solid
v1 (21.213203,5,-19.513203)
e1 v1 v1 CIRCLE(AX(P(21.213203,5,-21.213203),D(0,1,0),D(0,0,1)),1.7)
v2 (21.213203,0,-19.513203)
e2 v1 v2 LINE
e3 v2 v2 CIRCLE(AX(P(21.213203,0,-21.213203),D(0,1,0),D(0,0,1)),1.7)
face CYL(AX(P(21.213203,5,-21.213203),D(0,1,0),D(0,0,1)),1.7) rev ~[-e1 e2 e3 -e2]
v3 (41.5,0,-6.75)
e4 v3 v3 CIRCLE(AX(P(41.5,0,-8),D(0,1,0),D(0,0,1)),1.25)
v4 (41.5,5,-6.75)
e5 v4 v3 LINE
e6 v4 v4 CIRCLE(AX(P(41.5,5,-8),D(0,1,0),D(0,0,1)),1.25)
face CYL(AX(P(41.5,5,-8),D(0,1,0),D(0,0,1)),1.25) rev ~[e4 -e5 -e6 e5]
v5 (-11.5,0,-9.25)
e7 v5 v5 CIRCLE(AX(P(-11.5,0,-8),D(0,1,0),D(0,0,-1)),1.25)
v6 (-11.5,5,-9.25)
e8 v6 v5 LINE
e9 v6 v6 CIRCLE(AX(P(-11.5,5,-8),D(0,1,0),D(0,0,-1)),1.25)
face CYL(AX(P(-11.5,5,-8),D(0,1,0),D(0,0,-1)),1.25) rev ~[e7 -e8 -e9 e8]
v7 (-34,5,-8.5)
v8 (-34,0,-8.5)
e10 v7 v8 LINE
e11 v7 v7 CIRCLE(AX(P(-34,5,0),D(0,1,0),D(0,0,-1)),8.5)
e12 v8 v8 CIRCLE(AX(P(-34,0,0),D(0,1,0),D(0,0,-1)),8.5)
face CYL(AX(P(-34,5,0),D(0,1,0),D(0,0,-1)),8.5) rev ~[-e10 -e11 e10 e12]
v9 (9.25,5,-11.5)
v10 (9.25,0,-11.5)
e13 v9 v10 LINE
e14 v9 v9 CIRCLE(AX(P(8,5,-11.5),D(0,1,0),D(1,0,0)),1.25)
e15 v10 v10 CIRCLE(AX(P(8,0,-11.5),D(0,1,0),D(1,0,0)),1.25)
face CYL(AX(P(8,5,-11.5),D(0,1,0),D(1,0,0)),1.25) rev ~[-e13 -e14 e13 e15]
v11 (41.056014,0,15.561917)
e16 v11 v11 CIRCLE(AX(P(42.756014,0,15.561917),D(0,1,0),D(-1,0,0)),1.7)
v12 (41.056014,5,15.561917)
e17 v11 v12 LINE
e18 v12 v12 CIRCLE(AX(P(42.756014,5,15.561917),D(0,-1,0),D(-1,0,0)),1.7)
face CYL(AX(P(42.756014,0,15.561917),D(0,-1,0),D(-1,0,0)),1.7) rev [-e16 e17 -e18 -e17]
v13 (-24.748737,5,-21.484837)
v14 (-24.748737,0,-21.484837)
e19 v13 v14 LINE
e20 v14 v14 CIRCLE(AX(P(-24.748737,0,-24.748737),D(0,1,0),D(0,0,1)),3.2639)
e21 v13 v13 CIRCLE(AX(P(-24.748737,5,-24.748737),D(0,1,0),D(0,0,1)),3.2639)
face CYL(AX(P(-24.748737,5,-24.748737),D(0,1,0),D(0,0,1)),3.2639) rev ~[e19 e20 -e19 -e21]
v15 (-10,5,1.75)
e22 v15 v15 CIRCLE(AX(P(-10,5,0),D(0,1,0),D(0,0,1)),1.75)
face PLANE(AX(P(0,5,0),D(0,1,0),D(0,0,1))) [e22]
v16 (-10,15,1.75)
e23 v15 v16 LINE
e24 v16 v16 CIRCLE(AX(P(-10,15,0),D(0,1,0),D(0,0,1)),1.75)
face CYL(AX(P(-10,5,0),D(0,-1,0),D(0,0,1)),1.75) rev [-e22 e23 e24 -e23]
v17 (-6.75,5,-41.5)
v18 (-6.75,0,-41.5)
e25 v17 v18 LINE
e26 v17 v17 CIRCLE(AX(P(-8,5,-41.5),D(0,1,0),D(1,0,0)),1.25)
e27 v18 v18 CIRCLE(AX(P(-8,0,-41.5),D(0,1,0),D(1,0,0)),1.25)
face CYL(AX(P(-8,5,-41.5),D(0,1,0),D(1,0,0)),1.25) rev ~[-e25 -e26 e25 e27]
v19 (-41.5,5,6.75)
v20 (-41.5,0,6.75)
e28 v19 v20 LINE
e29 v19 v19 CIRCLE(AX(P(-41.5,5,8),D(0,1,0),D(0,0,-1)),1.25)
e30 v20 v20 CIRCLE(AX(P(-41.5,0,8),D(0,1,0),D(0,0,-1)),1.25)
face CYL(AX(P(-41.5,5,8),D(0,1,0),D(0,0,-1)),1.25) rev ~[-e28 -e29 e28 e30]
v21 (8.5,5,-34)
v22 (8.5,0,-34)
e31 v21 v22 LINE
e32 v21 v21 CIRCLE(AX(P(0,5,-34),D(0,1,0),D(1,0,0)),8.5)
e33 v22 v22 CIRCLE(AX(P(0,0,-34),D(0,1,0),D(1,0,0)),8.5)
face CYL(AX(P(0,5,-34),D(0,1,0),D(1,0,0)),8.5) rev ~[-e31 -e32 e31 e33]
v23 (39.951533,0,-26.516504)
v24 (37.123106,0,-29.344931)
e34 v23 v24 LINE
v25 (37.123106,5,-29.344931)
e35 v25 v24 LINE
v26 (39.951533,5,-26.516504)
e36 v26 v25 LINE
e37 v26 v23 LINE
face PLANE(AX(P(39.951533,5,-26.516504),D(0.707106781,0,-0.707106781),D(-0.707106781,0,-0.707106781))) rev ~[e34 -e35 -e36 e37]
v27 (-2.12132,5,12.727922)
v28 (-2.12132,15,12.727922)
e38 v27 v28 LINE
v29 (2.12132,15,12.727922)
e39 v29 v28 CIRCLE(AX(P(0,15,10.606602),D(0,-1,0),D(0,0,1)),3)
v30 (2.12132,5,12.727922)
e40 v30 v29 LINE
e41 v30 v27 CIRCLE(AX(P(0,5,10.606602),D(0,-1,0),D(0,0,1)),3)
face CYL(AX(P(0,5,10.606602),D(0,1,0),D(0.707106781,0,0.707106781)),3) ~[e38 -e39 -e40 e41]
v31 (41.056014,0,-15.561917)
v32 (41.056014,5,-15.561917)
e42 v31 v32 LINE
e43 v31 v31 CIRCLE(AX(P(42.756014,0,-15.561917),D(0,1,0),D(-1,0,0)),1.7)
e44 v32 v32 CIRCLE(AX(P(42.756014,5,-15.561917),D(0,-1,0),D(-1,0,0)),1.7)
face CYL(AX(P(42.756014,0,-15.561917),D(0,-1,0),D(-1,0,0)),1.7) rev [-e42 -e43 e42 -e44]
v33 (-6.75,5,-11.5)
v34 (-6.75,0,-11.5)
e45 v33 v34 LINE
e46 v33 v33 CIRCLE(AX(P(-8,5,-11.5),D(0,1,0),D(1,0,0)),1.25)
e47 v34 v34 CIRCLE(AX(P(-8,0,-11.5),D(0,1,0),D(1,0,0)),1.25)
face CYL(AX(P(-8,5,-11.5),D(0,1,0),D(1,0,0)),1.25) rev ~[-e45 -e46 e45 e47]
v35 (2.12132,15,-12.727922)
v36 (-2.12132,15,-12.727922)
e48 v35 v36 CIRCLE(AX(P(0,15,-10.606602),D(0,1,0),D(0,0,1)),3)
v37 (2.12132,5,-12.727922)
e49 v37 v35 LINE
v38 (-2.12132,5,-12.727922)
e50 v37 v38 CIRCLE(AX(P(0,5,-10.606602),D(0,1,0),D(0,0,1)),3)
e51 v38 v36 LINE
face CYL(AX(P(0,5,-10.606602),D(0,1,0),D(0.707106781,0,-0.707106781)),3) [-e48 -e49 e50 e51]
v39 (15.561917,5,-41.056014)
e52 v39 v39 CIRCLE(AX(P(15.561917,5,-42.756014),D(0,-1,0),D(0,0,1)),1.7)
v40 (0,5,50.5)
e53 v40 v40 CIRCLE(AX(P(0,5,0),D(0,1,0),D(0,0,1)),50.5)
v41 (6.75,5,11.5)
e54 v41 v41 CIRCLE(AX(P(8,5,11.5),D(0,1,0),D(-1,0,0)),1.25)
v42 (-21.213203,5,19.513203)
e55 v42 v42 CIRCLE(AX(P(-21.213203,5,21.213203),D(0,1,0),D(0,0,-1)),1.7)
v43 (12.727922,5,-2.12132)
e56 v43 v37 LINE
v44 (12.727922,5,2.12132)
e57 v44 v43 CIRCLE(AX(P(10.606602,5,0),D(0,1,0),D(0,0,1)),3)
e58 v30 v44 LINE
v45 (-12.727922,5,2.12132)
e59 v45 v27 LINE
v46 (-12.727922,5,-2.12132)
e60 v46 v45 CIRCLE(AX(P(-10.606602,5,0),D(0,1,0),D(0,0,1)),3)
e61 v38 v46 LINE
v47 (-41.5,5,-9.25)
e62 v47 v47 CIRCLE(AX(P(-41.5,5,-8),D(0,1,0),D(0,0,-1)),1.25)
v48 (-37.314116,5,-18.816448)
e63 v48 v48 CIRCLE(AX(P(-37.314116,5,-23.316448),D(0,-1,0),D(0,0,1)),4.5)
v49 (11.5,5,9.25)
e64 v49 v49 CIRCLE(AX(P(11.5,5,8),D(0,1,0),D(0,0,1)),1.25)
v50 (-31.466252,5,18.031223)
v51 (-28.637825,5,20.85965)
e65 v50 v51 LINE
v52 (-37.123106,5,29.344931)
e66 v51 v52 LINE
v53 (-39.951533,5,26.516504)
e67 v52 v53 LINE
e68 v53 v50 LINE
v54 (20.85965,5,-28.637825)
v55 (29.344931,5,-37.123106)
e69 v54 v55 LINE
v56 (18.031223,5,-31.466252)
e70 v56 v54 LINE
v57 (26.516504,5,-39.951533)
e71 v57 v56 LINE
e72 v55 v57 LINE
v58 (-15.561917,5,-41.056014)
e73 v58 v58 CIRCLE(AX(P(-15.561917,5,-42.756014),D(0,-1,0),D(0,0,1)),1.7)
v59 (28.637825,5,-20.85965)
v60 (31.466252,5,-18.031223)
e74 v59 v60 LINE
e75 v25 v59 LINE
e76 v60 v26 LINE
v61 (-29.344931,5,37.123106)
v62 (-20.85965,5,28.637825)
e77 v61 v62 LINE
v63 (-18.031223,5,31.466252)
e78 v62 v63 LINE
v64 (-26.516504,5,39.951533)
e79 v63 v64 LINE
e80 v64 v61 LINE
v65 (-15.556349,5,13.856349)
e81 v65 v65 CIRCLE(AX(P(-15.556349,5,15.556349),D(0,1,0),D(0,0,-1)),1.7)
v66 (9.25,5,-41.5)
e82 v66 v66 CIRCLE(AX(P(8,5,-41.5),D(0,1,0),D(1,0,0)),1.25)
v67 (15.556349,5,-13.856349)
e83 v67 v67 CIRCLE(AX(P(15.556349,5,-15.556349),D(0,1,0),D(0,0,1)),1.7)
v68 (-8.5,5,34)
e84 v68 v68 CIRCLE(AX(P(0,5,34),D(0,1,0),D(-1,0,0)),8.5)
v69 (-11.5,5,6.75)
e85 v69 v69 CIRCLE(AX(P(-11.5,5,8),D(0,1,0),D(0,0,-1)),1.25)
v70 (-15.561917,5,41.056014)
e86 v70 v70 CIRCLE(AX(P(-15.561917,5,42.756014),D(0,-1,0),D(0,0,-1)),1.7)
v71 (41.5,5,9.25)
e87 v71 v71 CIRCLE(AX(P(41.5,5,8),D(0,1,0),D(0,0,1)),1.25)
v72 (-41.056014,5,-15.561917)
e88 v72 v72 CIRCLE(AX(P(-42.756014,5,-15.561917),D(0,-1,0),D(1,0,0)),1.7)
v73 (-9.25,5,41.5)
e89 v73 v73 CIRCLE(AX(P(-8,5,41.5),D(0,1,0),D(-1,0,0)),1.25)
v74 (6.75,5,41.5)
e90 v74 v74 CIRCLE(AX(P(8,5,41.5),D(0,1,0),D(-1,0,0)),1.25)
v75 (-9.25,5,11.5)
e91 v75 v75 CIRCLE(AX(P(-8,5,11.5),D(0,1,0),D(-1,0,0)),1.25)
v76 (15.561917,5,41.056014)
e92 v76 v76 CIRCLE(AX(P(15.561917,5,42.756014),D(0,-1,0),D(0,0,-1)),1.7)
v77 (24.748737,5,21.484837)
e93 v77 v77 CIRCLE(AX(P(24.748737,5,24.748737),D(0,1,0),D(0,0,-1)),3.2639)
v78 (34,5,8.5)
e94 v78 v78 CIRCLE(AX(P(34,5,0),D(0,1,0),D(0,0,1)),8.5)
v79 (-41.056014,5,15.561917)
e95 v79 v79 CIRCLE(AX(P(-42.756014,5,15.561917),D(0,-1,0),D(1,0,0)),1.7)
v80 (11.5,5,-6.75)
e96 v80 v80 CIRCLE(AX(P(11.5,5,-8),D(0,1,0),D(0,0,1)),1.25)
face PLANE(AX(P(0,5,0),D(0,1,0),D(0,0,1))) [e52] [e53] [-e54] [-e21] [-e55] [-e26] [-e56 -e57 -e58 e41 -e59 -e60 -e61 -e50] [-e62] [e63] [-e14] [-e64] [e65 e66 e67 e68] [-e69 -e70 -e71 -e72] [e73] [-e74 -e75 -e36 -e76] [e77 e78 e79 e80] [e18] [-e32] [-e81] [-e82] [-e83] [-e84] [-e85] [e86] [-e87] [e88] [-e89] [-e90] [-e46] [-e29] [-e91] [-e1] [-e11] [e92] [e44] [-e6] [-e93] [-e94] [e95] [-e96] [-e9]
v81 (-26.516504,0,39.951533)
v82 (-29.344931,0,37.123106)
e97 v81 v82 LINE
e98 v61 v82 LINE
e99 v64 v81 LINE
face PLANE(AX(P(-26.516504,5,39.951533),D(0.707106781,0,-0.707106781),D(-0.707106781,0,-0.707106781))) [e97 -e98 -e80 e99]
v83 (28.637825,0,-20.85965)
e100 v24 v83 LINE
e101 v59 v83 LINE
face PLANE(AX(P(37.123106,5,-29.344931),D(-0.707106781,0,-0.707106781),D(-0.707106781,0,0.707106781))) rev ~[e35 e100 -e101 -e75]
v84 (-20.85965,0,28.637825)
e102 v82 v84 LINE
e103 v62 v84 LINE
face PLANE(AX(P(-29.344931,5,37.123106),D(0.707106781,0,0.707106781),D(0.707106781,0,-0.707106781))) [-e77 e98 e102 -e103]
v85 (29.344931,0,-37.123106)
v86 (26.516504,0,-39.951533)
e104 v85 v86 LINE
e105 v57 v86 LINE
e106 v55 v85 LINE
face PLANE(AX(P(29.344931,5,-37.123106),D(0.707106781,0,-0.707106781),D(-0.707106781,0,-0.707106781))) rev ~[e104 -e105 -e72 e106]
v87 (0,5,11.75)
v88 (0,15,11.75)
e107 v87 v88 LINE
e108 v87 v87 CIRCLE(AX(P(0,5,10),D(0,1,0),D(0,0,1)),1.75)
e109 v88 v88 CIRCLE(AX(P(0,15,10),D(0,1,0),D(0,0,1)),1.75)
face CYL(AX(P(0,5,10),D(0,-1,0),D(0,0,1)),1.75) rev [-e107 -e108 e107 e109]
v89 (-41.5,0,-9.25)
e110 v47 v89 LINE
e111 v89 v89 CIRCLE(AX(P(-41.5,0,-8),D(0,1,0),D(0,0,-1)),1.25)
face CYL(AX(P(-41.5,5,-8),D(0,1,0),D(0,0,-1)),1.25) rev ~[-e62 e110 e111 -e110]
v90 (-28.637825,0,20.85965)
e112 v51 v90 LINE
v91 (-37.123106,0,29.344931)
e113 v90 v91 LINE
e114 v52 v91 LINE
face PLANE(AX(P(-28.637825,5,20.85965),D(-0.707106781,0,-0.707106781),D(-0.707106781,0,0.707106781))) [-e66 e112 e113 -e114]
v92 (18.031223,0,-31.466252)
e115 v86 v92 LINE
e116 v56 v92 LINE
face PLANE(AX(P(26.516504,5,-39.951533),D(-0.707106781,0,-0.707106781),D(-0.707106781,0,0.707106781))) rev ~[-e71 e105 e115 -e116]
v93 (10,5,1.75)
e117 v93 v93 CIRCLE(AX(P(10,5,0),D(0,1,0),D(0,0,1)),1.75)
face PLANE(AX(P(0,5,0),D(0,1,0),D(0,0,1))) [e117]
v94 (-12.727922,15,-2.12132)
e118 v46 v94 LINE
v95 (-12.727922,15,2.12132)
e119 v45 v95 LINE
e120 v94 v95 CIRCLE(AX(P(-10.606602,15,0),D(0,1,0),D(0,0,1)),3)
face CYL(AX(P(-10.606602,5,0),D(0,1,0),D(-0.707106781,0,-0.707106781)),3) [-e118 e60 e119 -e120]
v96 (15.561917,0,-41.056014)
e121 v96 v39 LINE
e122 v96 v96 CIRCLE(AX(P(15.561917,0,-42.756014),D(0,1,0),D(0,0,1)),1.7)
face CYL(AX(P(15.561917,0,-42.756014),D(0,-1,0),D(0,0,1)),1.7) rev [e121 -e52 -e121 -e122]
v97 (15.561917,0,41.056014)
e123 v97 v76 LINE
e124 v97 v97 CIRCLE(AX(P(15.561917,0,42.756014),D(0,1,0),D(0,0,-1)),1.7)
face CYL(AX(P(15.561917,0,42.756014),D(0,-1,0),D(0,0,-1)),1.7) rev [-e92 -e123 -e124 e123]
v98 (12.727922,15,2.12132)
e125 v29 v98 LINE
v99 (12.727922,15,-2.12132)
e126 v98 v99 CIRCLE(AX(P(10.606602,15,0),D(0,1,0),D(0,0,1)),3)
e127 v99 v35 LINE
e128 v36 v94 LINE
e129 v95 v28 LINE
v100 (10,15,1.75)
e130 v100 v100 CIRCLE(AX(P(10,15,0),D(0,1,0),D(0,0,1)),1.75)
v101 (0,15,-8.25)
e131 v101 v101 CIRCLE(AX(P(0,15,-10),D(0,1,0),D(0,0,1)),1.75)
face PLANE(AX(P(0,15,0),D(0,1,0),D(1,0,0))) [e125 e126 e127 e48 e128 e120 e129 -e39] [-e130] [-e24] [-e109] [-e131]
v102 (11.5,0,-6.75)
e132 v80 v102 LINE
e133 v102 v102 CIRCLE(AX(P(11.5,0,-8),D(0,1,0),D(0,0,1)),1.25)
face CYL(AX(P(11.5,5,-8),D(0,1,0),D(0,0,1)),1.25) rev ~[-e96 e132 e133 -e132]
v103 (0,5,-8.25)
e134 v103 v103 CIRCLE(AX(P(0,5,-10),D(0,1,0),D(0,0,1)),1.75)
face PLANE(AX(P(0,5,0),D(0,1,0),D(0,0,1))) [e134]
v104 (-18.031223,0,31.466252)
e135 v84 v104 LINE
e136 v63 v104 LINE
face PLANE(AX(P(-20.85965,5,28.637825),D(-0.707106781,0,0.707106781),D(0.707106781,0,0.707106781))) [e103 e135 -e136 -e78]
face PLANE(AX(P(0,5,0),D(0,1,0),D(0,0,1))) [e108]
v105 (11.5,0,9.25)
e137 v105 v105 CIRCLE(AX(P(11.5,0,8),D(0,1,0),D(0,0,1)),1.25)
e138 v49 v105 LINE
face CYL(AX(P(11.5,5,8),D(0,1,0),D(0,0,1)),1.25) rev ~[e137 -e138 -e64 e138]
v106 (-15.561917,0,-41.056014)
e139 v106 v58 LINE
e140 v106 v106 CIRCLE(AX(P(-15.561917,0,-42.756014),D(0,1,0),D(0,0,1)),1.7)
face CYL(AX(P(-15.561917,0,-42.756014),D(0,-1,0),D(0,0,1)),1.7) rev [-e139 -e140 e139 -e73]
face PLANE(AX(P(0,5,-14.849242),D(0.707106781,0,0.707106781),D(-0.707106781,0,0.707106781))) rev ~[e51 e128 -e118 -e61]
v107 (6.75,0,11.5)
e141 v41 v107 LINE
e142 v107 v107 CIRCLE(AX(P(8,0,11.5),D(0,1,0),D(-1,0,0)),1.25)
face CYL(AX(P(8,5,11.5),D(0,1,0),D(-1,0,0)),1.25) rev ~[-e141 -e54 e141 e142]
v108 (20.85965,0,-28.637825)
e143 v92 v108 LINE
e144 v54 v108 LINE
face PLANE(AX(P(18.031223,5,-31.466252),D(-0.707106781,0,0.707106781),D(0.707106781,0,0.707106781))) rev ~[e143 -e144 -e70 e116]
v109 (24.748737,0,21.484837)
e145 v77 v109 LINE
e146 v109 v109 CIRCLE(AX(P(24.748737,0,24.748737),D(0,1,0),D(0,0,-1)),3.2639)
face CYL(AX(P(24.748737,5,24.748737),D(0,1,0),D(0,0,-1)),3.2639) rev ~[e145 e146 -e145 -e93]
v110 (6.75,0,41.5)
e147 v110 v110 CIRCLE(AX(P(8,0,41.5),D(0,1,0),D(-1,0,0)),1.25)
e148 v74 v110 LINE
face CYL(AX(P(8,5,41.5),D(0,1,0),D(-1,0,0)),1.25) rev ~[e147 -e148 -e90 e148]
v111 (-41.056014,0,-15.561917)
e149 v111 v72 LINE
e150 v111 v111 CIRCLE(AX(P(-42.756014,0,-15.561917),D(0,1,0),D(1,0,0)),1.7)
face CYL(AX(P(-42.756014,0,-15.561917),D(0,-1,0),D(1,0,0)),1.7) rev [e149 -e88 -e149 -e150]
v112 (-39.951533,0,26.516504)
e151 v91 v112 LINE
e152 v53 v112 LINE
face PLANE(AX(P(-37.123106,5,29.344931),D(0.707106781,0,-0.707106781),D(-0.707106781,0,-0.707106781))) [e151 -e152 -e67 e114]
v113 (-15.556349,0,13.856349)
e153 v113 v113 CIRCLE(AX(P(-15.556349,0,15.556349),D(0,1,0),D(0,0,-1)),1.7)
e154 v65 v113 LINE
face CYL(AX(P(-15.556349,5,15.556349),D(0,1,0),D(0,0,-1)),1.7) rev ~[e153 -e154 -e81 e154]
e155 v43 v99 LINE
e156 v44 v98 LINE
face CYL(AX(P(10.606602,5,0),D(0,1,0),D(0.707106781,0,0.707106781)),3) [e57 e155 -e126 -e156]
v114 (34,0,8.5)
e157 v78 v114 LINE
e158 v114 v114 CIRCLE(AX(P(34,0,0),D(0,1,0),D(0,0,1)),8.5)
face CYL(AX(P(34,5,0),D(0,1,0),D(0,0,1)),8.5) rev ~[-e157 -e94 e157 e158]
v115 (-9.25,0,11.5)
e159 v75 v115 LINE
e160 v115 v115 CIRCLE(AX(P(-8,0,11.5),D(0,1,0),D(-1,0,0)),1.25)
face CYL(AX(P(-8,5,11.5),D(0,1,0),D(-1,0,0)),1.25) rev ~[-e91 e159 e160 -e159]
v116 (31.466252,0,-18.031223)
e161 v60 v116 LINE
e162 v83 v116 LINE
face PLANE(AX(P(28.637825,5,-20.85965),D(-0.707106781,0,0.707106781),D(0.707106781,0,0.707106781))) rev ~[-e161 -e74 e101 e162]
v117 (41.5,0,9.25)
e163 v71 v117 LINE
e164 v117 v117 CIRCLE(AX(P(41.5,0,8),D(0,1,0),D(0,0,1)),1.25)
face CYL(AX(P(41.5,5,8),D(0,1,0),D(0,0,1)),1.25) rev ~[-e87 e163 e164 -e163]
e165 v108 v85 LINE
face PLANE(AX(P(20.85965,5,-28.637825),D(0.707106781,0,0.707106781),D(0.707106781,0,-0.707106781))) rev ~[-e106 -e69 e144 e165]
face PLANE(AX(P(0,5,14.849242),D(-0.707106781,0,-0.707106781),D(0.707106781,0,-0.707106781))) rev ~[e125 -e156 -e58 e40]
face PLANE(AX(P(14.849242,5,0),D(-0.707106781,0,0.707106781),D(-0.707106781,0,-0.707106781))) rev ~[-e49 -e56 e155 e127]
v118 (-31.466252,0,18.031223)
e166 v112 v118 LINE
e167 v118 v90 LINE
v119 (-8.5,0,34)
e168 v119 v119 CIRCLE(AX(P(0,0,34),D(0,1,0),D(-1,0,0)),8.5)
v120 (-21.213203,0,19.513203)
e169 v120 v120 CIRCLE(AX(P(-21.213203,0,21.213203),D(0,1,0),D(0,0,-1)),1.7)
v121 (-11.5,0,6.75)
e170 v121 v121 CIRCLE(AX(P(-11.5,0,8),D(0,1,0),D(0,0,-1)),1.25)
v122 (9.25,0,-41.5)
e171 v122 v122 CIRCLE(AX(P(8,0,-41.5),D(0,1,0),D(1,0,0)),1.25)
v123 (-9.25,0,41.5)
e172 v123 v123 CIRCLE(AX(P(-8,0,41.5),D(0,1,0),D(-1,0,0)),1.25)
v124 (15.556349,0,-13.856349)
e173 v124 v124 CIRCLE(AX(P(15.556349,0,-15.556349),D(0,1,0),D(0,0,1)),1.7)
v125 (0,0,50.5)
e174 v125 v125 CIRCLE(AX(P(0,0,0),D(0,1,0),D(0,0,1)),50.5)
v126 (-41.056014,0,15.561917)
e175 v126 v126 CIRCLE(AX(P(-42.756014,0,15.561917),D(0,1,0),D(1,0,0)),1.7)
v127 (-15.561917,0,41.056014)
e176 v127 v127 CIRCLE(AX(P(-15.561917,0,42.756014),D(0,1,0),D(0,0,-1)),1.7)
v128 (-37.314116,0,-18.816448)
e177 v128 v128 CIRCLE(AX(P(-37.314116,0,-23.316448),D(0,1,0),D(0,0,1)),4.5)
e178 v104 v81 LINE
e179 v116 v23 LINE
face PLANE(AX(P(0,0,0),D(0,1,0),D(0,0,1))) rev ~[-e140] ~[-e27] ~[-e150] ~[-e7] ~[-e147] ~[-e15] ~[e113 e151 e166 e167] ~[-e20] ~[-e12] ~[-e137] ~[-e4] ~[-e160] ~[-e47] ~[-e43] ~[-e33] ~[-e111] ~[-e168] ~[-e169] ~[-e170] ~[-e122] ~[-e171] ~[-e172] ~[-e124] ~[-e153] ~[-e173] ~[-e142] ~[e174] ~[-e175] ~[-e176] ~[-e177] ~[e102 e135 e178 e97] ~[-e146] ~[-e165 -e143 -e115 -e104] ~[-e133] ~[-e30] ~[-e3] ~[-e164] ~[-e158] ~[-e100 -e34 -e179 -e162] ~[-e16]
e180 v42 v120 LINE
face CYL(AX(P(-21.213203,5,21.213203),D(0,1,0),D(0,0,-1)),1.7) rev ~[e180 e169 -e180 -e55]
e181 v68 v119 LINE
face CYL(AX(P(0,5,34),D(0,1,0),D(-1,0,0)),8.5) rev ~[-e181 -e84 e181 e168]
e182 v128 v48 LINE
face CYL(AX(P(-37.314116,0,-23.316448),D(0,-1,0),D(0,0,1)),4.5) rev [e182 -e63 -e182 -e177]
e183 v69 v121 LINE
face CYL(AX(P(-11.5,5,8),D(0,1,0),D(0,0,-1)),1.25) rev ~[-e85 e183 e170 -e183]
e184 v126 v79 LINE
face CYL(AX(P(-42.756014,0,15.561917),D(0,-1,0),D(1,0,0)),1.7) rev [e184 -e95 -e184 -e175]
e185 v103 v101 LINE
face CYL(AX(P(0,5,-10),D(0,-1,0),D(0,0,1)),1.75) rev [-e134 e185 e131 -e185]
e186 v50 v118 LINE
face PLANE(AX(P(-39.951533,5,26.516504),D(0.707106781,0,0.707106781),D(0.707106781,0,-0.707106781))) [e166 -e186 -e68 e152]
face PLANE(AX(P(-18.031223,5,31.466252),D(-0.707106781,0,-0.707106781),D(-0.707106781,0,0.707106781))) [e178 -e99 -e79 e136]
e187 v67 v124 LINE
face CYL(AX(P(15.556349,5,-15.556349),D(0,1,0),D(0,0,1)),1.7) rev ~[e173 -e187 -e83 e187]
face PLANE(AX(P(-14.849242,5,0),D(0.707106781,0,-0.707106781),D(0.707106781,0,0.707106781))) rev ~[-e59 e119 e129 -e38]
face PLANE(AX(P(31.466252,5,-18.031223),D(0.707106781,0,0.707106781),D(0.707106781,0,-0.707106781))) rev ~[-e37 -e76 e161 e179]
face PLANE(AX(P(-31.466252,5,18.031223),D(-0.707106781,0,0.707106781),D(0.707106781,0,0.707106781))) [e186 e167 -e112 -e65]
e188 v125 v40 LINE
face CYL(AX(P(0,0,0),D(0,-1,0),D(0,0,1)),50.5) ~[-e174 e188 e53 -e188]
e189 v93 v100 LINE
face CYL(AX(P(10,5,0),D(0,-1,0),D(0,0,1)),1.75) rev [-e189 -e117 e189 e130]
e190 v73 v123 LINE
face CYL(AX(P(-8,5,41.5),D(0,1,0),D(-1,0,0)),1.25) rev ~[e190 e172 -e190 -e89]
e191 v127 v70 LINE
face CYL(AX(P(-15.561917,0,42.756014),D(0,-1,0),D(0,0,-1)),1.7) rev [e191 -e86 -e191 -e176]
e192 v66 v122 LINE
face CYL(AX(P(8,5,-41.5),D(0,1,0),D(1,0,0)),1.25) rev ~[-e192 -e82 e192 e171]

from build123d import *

# Parameters (mm, degrees)
SKETCH1_R           = 50.5
BOSS_EXTRUDE1_DEPTH = 5
SKETCH2_R           = 8.5
SKETCH2_R_2         = 1.25
CUT_EXTRUDE1_DEPTH  = 72.592597383
CIRPATTERN1_COUNT   = 4
SKETCH3_R           = 1.75
BOSS_EXTRUDE2_DEPTH = 10
FILLET2_R           = 3
SKETCH4_R           = 1.7
SKETCH4_R_2         = 3.2639
CUT_EXTRUDE2_DEPTH  = 73.114492302
SKETCH7_R           = 4.5
CUT_EXTRUDE9_DEPTH  = 73.97602346
SKETCH8_R           = 1.7
CUT_EXTRUDE10_DEPTH = 73.97602346
CIRPATTERN2_COUNT   = 4


with BuildPart() as part:
    # Sketch1 → Boss-Extrude1 (new body)
    with BuildSketch(Plane(origin=(0, 0, 0), x_dir=(1, 0, 0), z_dir=(0, 1, 0))):
        Circle(SKETCH1_R)
    extrude(amount=BOSS_EXTRUDE1_DEPTH)

    # Sketch2 → Cut-Extrude1 (cut, through all)
    with BuildSketch(Plane(origin=(0, 5, 0), x_dir=(1, 0, 0), z_dir=(0, 1, 0))):
        with Locations((34, 0)):
            Circle(SKETCH2_R)
        with Locations((41.5, -8)):
            Circle(SKETCH2_R_2)
        with Locations((41.5, 8)):
            Circle(SKETCH2_R_2)
        with Locations((11.5, 8)):
            Circle(SKETCH2_R_2)
        with Locations((11.5, -8)):
            Circle(SKETCH2_R_2)
    cut_extrude1 = extrude(amount=-CUT_EXTRUDE1_DEPTH, mode=Mode.SUBTRACT)

    # CirPattern1: Cut-Extrude1 ×4 about axis
    cirpattern1_axis = Axis((0, 5, 0), (0, -1, 0))
    for i in range(1, CIRPATTERN1_COUNT):
        add(cut_extrude1.rotate(cirpattern1_axis, i * 360 / CIRPATTERN1_COUNT), mode=Mode.SUBTRACT)

    # Sketch3 → Boss-Extrude2 (add)
    with BuildSketch(Plane(origin=(0, 5, 0), x_dir=(1, 0, 0), z_dir=(0, 1, 0))):
        Polygon((0, -14.849242405), (14.849242405, 0), (0, 14.849242405), (-14.849242405, 0), align=None)
        with Locations((10, 0)):
            Circle(SKETCH3_R, mode=Mode.SUBTRACT)
        with Locations((0, -10)):
            Circle(SKETCH3_R, mode=Mode.SUBTRACT)
        with Locations((-10, 0)):
            Circle(SKETCH3_R, mode=Mode.SUBTRACT)
        with Locations((0, 10)):
            Circle(SKETCH3_R, mode=Mode.SUBTRACT)
    extrude(amount=BOSS_EXTRUDE2_DEPTH)

    # Fillet2
    fillet2_edges = [part.edges().sort_by_distance(p)[0] for p in [
        (-14.849242405, 10, 0),
        (0, 10, -14.849242405),
        (14.849242405, 10, 0),
        (0, 10, 14.849242405),
    ]]
    fillet(fillet2_edges, radius=FILLET2_R)

    # Sketch4 → Cut-Extrude2 (cut, through all)
    with BuildSketch(Plane(origin=(0, 5, 0), x_dir=(1, 0, 0), z_dir=(0, 1, 0))):
        with Locations((21.213203436, 21.213203436)):
            Circle(SKETCH4_R)
        with Locations((-21.213203436, -21.213203436)):
            Circle(SKETCH4_R)
        with Locations((-24.748737342, 24.748737342)):
            Circle(SKETCH4_R_2)
        with Locations((24.748737342, -24.748737342)):
            Circle(SKETCH4_R_2)
        with Locations((15.556349186, 15.556349186)):
            Circle(SKETCH4_R)
        with Locations((-15.556349186, -15.556349186)):
            Circle(SKETCH4_R)
        Polygon((20.859650045, 28.637824638), (29.344931419, 37.123106012), (26.516504294, 39.951533137), (18.03122292, 31.466251763), align=None)
        Polygon((31.466251763, 18.03122292), (39.951533137, 26.516504294), (37.123106012, 29.344931419), (28.637824638, 20.859650045), align=None)
        Polygon((-26.516504294, -39.951533137), (-29.344931419, -37.123106012), (-20.859650045, -28.637824638), (-18.03122292, -31.466251763), align=None)
        Polygon((-37.123106012, -29.344931419), (-39.951533137, -26.516504294), (-31.466251763, -18.03122292), (-28.637824638, -20.859650045), align=None)
    extrude(amount=-CUT_EXTRUDE2_DEPTH, mode=Mode.SUBTRACT)

    # Sketch7 → Cut-Extrude9 (cut, through all)
    with BuildSketch(Plane(origin=(0, 0, 0), x_dir=(1, 0, 0), z_dir=(0, 1, 0))):
        with Locations((-37.314116231, 23.316447626)):
            Circle(SKETCH7_R)
    extrude(amount=CUT_EXTRUDE9_DEPTH, mode=Mode.SUBTRACT)

    # Sketch8 → Cut-Extrude10 (cut, through all)
    with BuildSketch(Plane(origin=(0, 0, 0), x_dir=(1, 0, 0), z_dir=(0, 1, 0))):
        with Locations((-15.561916521, 42.756014246)):
            Circle(SKETCH8_R)
        with Locations((15.561916521, 42.756014246)):
            Circle(SKETCH8_R)
    cut_extrude10 = extrude(amount=CUT_EXTRUDE10_DEPTH, mode=Mode.SUBTRACT)

    # CirPattern2: Cut-Extrude10 ×4 about axis
    cirpattern2_axis = Axis((0, 15.75, 0), (0, -1, 0))
    for i in range(1, CIRPATTERN2_COUNT):
        add(cut_extrude10.rotate(cirpattern2_axis, i * 360 / CIRPATTERN2_COUNT), mode=Mode.SUBTRACT)


solid = part.part
